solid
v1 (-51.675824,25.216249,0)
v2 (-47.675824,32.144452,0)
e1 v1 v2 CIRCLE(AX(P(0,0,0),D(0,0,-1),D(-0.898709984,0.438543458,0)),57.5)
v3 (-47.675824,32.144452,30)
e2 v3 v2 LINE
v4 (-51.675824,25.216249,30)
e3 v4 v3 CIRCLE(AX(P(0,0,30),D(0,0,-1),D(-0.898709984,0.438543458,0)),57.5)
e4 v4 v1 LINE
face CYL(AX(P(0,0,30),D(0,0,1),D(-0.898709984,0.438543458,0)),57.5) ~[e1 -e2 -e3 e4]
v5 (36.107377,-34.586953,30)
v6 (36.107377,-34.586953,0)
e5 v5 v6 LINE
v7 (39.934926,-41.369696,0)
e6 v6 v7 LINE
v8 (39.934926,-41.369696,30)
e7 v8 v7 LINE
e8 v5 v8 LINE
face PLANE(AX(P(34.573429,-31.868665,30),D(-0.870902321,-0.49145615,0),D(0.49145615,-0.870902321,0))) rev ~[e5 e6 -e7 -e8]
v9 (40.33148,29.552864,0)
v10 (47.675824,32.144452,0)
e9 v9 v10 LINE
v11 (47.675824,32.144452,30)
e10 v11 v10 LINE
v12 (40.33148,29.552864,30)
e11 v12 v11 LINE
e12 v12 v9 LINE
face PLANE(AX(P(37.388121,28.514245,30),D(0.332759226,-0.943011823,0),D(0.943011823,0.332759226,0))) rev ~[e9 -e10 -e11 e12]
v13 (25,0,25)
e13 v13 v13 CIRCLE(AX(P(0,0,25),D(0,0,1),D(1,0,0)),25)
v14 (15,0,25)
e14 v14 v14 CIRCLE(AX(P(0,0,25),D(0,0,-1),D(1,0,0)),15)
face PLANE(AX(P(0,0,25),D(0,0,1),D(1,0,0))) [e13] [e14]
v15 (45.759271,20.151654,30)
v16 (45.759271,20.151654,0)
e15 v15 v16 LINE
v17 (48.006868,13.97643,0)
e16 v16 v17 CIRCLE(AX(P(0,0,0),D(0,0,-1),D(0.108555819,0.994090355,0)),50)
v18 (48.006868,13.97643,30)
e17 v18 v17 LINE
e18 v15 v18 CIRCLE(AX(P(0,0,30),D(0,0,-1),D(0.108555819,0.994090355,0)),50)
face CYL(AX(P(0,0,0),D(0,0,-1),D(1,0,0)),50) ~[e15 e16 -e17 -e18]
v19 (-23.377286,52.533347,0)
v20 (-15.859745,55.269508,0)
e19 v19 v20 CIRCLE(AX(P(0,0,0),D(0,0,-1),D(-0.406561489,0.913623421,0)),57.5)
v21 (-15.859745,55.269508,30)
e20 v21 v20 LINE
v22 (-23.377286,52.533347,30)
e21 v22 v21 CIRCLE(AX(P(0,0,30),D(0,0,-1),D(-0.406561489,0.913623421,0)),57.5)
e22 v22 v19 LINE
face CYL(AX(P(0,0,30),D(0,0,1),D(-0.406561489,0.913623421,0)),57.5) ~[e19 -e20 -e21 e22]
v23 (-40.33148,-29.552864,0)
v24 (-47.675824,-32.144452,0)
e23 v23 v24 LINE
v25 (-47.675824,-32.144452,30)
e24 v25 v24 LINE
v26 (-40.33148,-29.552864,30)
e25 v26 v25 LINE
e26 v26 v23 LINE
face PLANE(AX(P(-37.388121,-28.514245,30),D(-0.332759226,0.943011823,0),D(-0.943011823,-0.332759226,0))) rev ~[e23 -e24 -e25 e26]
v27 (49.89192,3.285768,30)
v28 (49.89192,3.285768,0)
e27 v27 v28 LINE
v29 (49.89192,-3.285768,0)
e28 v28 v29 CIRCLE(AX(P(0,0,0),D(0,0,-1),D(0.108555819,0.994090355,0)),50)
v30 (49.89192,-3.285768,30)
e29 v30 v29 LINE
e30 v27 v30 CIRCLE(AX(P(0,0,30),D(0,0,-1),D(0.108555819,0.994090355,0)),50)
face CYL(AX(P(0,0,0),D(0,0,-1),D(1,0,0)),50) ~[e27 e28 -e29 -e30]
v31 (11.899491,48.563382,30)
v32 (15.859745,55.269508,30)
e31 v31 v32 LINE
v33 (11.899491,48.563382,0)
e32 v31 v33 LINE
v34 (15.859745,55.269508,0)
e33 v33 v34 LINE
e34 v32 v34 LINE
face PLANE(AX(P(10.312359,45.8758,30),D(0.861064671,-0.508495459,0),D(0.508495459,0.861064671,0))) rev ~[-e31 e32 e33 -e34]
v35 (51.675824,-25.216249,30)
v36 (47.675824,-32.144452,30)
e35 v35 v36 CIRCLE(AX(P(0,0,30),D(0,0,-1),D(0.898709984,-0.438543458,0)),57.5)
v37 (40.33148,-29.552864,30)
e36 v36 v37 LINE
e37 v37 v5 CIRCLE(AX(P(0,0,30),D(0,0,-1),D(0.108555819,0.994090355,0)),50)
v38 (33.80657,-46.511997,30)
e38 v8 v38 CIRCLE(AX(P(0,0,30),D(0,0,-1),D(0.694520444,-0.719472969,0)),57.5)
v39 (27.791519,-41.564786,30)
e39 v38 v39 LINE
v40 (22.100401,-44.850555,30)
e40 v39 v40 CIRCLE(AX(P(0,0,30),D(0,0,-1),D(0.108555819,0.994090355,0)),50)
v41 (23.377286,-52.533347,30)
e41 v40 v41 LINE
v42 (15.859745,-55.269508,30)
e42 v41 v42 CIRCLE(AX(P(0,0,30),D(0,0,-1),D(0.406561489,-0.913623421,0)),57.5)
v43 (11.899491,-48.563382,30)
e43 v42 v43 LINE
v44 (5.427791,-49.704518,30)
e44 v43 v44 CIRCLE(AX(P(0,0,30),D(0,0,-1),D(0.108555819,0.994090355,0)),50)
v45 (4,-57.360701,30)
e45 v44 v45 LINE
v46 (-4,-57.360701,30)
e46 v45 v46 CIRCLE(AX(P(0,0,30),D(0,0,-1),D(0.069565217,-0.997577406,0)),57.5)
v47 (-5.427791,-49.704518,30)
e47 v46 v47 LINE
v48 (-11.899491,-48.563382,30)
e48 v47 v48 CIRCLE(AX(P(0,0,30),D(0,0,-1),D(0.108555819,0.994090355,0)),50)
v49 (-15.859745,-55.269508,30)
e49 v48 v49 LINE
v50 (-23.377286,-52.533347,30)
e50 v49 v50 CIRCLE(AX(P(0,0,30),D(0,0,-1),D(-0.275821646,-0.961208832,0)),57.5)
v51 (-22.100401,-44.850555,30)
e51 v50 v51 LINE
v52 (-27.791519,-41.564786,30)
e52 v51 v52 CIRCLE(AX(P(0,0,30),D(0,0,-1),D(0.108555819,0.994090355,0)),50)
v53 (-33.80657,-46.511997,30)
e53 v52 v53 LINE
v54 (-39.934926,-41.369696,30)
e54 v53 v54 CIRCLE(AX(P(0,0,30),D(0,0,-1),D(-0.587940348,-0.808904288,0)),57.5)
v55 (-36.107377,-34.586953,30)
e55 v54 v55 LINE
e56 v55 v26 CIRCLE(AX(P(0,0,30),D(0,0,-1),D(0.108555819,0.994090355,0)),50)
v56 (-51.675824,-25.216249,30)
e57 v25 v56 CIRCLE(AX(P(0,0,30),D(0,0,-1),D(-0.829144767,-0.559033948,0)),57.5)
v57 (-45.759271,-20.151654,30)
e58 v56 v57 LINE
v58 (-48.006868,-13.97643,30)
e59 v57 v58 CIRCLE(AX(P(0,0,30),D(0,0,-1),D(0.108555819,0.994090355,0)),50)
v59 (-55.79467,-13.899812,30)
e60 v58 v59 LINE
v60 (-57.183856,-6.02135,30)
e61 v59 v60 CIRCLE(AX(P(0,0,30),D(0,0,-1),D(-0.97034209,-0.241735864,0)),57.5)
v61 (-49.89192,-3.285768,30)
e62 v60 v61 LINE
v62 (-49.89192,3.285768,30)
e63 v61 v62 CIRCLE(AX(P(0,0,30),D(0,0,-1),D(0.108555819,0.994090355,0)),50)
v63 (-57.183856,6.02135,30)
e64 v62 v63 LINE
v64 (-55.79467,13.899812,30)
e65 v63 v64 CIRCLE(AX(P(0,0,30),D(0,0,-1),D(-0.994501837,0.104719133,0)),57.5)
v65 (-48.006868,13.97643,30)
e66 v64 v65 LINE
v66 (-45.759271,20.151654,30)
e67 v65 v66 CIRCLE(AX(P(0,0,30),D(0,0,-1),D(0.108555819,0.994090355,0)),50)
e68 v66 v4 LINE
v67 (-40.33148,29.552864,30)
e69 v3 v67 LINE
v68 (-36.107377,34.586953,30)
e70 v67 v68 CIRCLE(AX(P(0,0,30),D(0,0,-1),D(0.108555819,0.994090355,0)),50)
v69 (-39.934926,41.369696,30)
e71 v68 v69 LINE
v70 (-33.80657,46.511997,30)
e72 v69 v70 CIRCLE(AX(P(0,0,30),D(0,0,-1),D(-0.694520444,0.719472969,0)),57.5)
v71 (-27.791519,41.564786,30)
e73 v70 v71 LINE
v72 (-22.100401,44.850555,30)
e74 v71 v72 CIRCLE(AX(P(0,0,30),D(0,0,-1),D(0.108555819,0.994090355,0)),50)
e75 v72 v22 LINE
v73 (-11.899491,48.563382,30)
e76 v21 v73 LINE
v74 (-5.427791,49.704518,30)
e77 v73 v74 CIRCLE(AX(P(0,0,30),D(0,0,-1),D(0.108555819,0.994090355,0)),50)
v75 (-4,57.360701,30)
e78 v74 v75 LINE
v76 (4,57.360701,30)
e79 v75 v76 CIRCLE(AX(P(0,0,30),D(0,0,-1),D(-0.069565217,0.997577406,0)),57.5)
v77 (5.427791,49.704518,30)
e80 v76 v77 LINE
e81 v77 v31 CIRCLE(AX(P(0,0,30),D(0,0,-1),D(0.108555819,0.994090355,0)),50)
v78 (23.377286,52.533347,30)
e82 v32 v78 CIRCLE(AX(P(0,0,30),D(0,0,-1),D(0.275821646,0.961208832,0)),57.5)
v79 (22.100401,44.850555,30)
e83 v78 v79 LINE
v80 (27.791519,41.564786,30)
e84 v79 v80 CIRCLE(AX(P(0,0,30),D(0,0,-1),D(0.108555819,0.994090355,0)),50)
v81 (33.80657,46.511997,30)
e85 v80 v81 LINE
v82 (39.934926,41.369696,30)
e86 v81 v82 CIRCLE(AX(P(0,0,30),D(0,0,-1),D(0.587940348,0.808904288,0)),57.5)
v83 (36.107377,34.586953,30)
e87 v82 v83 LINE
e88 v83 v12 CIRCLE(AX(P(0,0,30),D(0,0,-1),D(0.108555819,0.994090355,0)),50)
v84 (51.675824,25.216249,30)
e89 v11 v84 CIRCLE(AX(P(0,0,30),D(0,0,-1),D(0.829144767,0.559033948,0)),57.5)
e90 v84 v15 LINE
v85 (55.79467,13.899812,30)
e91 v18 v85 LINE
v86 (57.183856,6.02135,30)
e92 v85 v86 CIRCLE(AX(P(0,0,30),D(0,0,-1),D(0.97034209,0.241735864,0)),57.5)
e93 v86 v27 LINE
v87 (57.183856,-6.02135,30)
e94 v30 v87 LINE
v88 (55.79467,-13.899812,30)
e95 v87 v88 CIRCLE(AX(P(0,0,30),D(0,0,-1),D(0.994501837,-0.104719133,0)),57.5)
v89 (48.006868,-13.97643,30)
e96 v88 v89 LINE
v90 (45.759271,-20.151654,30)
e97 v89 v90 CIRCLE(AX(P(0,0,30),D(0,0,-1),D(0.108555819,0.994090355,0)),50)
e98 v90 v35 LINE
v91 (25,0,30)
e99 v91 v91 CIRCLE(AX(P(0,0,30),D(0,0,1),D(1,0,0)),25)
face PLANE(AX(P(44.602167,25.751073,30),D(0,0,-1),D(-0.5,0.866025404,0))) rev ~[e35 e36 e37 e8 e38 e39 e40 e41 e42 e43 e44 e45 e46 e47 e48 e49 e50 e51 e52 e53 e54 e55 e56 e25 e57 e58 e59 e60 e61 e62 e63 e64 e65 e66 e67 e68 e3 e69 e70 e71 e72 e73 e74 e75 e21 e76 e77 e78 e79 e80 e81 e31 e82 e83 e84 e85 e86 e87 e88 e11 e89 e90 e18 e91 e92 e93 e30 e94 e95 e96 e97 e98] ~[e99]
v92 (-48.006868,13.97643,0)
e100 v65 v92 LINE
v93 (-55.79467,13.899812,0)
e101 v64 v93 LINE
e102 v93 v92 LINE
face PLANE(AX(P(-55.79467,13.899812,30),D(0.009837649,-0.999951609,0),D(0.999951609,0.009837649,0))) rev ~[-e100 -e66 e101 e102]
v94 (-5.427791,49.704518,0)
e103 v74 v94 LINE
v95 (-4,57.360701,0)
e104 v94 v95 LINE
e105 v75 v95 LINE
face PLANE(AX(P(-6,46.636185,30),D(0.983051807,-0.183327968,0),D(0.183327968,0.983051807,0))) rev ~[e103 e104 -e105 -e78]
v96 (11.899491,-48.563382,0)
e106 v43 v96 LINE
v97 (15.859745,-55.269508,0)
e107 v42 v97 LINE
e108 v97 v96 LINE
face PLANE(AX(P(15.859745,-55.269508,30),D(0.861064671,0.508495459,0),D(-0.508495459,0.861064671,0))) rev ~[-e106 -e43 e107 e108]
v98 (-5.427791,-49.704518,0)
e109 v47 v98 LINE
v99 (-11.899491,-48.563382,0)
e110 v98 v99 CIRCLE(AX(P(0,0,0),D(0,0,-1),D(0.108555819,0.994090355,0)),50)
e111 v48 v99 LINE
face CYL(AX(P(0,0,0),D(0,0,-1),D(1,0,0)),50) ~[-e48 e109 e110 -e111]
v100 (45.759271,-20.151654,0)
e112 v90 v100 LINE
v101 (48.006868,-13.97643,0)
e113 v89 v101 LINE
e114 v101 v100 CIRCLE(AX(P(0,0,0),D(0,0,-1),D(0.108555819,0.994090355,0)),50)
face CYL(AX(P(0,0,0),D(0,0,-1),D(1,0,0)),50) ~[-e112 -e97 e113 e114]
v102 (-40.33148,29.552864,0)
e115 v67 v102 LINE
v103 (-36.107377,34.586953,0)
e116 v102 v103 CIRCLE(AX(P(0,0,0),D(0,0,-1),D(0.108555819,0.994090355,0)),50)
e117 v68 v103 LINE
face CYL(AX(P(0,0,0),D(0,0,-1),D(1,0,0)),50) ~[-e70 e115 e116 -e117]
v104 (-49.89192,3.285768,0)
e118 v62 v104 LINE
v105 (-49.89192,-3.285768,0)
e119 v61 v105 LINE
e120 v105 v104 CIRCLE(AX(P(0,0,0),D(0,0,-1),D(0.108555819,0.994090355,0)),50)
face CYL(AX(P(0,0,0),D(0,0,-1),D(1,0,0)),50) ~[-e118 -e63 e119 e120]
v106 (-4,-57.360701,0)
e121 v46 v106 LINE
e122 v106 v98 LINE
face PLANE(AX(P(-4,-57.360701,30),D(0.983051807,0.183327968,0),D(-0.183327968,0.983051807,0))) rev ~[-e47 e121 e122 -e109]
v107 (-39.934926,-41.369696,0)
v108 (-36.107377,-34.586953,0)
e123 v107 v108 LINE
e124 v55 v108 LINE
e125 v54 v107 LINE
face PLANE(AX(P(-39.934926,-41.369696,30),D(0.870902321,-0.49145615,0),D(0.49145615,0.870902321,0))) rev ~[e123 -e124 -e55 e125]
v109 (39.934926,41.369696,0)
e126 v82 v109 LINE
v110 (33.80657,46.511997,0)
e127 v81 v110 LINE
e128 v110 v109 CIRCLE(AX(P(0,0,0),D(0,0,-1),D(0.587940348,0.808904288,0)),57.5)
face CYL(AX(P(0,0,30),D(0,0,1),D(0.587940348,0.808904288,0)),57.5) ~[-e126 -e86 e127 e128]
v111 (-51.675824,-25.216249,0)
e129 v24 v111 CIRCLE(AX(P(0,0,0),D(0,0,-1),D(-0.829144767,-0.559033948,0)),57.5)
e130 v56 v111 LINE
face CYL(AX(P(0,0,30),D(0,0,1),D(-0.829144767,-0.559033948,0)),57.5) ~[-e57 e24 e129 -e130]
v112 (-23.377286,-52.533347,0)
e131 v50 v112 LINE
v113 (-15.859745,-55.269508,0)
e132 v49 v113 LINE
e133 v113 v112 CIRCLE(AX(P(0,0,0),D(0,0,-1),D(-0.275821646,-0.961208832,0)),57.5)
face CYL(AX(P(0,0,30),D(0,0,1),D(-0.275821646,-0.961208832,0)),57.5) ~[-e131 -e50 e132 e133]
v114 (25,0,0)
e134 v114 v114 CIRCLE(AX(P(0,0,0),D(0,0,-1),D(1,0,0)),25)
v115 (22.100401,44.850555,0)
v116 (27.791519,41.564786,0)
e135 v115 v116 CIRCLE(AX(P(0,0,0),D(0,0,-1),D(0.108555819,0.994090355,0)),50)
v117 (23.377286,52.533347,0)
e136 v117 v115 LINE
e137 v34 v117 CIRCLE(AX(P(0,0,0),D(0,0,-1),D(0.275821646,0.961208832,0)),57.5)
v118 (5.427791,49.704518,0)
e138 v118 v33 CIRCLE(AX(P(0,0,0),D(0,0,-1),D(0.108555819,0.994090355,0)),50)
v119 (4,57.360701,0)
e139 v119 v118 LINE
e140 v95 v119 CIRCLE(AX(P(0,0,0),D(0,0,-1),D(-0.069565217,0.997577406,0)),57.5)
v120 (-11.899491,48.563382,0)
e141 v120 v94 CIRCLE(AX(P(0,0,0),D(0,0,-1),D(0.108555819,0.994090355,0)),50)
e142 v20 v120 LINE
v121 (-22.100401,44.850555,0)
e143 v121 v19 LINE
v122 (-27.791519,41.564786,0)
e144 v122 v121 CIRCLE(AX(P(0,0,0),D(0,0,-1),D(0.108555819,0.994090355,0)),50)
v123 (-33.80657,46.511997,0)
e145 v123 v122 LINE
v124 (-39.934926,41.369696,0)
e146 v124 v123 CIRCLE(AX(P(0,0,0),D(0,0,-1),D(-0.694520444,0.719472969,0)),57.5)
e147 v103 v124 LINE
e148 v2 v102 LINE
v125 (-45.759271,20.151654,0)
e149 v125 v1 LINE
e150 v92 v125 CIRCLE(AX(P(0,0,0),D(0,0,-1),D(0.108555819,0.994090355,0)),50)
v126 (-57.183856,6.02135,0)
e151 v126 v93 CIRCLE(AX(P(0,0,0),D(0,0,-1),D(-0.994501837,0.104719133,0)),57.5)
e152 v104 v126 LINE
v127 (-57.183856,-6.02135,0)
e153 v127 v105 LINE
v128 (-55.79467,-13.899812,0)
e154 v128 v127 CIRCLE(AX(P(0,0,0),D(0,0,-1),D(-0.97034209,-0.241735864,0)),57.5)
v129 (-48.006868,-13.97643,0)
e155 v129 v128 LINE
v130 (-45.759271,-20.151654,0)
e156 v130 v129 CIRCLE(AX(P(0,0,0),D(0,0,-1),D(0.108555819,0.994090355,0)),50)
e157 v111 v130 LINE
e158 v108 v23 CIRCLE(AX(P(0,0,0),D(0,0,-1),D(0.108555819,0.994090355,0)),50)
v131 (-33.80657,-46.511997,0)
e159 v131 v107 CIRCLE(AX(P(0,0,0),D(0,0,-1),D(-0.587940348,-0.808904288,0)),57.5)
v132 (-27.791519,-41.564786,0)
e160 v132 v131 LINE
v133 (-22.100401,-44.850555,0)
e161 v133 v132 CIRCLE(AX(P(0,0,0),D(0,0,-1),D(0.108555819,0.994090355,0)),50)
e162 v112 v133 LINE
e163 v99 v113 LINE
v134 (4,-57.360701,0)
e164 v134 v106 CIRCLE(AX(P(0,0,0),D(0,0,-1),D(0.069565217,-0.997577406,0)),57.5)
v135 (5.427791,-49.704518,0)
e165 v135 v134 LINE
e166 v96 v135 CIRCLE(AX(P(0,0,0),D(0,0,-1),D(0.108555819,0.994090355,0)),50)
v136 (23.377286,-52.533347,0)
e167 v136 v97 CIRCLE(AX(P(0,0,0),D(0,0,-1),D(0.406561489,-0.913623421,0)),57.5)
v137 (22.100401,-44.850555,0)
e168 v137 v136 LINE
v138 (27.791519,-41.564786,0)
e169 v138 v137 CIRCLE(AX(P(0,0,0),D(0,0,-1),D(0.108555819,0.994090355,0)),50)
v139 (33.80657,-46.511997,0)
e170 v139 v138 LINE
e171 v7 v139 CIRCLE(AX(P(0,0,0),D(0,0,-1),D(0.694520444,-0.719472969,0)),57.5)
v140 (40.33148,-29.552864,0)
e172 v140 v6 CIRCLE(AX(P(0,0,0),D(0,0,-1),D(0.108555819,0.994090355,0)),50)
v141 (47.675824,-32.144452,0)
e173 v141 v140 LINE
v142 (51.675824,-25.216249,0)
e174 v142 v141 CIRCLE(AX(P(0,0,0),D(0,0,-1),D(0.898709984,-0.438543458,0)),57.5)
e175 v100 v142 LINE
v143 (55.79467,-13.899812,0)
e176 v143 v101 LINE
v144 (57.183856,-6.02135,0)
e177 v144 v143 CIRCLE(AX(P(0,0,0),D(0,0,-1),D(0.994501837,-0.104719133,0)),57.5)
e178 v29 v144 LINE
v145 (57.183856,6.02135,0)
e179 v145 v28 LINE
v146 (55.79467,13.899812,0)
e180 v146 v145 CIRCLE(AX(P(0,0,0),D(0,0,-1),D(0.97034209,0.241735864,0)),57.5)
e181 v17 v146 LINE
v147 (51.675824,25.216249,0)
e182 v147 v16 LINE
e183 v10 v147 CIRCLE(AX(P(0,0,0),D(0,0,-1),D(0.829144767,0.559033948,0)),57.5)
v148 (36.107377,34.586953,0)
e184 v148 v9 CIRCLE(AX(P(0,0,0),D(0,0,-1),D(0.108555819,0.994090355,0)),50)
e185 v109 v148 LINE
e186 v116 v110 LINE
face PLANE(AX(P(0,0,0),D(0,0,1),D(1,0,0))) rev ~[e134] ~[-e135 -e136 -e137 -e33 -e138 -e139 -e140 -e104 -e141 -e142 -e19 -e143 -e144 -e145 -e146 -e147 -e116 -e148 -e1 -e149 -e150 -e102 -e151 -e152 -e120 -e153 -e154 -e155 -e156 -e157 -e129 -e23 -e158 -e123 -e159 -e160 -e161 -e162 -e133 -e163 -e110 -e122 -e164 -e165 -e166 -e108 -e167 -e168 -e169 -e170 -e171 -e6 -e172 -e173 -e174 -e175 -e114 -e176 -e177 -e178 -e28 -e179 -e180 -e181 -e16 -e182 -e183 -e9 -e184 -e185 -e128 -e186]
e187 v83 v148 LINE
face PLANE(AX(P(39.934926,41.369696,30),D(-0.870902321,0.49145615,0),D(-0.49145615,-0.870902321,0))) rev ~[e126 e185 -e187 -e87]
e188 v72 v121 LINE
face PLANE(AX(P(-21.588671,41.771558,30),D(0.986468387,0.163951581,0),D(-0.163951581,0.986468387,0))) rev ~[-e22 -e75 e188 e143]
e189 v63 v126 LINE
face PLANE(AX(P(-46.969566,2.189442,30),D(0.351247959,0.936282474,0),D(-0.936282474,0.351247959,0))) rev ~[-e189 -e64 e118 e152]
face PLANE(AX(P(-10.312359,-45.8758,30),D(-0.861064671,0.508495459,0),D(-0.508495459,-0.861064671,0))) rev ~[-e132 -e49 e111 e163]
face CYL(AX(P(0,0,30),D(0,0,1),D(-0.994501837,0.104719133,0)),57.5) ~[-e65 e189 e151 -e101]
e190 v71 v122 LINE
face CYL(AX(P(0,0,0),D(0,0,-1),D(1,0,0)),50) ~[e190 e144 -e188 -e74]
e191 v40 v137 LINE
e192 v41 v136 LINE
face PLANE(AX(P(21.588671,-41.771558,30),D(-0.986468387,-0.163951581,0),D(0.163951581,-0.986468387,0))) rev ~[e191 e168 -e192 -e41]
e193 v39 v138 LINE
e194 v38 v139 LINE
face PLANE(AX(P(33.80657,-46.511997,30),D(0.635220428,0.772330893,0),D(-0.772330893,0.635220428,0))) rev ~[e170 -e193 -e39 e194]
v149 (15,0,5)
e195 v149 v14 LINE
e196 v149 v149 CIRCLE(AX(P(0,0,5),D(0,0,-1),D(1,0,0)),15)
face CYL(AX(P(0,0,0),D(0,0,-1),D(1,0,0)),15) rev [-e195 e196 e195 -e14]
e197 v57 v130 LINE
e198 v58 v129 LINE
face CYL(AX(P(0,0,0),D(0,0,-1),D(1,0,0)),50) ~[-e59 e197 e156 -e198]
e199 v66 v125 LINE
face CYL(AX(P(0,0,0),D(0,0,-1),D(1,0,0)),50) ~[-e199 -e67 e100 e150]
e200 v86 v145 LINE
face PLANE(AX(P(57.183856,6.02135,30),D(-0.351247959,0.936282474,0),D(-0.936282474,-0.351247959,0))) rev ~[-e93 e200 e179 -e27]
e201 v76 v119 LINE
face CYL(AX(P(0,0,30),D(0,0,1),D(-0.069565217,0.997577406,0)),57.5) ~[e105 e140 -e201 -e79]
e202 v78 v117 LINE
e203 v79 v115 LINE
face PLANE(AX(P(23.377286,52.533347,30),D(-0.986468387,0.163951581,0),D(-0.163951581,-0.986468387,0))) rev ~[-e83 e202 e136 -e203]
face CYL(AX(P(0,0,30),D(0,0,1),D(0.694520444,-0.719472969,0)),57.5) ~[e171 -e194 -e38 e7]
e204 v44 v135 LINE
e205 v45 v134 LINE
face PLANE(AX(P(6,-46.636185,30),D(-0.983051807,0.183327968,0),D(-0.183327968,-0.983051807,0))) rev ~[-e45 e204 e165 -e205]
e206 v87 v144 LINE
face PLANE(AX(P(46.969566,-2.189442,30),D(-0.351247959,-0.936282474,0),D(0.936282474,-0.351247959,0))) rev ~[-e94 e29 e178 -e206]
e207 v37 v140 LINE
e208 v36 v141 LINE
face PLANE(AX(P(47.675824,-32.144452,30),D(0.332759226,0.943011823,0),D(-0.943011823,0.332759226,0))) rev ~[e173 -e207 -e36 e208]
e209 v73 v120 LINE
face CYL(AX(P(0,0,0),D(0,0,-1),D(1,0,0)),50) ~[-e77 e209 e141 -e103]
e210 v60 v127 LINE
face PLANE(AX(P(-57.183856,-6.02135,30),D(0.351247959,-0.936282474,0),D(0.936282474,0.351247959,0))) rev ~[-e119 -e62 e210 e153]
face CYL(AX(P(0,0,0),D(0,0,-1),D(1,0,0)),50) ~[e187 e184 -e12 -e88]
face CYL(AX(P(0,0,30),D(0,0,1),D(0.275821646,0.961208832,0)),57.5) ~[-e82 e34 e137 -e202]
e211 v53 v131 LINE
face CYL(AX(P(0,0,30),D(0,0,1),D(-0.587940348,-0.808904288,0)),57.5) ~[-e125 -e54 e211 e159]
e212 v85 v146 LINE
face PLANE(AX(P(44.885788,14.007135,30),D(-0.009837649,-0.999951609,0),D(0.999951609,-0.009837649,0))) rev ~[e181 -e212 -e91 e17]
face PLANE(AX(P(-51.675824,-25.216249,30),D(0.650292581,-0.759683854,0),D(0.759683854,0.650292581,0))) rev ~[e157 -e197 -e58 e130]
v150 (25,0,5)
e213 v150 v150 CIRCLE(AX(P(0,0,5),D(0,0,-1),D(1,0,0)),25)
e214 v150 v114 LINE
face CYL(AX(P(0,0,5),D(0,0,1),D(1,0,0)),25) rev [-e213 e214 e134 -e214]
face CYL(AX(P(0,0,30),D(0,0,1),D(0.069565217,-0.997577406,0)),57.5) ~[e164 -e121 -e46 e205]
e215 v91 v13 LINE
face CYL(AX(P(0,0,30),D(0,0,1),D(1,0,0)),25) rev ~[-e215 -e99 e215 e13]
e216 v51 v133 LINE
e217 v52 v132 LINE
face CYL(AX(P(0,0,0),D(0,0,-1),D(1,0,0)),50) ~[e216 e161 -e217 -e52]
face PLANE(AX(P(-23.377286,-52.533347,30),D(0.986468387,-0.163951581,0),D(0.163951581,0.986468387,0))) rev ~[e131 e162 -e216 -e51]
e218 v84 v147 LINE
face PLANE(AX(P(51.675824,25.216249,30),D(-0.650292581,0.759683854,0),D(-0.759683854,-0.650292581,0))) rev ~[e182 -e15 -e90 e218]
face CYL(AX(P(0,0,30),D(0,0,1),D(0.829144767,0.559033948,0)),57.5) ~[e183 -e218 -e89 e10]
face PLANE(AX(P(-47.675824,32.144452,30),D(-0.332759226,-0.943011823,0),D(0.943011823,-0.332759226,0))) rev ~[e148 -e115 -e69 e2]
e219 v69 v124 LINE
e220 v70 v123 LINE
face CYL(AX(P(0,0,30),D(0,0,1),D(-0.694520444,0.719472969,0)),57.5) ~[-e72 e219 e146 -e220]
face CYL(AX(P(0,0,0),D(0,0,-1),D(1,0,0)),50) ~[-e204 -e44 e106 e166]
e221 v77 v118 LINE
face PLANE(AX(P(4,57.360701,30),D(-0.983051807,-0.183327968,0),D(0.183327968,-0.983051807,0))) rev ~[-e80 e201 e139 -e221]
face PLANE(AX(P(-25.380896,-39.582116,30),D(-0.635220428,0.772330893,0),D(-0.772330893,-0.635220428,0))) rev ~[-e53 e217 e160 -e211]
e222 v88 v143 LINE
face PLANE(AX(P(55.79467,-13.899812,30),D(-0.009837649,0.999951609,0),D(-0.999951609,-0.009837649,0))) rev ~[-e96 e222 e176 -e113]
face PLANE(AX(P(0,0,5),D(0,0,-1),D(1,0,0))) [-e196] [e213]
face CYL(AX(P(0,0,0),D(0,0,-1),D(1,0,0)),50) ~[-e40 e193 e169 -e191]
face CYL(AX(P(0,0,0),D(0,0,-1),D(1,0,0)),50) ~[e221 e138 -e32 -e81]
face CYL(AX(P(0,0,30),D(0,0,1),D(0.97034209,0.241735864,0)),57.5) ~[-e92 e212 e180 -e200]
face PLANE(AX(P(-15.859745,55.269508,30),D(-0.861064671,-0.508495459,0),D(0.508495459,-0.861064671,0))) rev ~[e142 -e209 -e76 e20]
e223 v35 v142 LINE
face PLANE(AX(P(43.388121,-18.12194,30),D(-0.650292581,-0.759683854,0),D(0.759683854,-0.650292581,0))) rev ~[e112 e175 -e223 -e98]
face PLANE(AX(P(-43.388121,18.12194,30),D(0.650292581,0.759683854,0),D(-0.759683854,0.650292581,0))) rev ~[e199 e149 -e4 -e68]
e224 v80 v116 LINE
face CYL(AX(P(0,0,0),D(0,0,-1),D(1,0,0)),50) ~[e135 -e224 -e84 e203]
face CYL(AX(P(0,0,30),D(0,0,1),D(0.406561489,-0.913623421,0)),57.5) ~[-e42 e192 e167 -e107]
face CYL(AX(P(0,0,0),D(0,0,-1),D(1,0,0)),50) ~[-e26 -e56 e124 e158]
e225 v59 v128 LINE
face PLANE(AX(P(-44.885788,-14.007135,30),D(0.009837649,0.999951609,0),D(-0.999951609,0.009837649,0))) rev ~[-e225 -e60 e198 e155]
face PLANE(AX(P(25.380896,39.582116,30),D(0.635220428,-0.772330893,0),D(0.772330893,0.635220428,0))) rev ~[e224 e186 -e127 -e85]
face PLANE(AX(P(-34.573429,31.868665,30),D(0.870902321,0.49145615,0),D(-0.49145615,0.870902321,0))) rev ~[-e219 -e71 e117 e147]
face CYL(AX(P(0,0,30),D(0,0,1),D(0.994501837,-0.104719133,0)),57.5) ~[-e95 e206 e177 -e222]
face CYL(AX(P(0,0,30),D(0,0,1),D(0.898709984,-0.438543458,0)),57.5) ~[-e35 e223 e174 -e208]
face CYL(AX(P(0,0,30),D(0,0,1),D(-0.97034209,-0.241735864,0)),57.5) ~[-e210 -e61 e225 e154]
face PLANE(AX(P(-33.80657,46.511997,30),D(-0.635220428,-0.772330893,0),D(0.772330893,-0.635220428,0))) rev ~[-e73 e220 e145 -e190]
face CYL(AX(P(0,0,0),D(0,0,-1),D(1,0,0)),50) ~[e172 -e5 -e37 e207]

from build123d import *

# Parameters (mm, degrees)
SKIZZE1_R                       = 50
SKIZZE1_R_2                     = 15
AUFSATZ_LINEAR_AUSTRAGEN1_DEPTH = 30
AUFSATZ_LINEAR_AUSTRAGEN2_DEPTH = 30
KREISMUSTER1_COUNT              = 18
SKIZZE3_R                       = 25
SCHNITT_LINEAR_AUSTRAGEN1_DEPTH = 5
SCHNITT_LINEAR_START            = -5
SKIZZE4_R                       = 25
SCHNITT_LINEAR_AUSTRAGEN2_DEPTH = 5


with BuildPart() as part:
    # Skizze1 → Aufsatz-Linear austragen1 (new body)
    with BuildSketch(Plane.XY):
        Circle(SKIZZE1_R)
        Circle(SKIZZE1_R_2, mode=Mode.SUBTRACT)
    extrude(amount=AUFSATZ_LINEAR_AUSTRAGEN1_DEPTH)

    # Skizze2 → Aufsatz-Linear austragen2 (add)
    with BuildSketch(Plane.XY.offset(30)):
        with BuildLine():
            Line((6, 46.636185446), (-6, 46.636185446))
            Line((-6, 46.636185446), (-4, 57.360700833))
            ThreePointArc((-4, 57.360700833), (0, 57.5), (4, 57.360700833))
            Line((4, 57.360700833), (6, 46.636185446))
        make_face()
    aufsatz_linear_austragen2 = extrude(amount=-AUFSATZ_LINEAR_AUSTRAGEN2_DEPTH)

    # Kreismuster1: Aufsatz-Linear austragen2 ×18 about axis
    kreismuster1_axis = Axis((0, 0, 30), (0, 0, -1))
    for i in range(1, KREISMUSTER1_COUNT):
        add(aufsatz_linear_austragen2.rotate(kreismuster1_axis, i * 360 / KREISMUSTER1_COUNT))

    # Skizze3 → Schnitt-Linear austragen1 (cut)
    with BuildSketch(Plane.XY.offset(30)):
        Circle(SKIZZE3_R)
    extrude(amount=-SCHNITT_LINEAR_AUSTRAGEN1_DEPTH, mode=Mode.SUBTRACT)

    # Skizze4 → Schnitt-Linear austragen2 (cut)
    with BuildSketch(Plane(origin=(0, 0, 0), x_dir=(-1, 0, 0), z_dir=(0, 0, -1)).offset(SCHNITT_LINEAR_START)):
        Circle(SKIZZE4_R)
    extrude(amount=SCHNITT_LINEAR_AUSTRAGEN2_DEPTH, mode=Mode.SUBTRACT)


solid = part.part
